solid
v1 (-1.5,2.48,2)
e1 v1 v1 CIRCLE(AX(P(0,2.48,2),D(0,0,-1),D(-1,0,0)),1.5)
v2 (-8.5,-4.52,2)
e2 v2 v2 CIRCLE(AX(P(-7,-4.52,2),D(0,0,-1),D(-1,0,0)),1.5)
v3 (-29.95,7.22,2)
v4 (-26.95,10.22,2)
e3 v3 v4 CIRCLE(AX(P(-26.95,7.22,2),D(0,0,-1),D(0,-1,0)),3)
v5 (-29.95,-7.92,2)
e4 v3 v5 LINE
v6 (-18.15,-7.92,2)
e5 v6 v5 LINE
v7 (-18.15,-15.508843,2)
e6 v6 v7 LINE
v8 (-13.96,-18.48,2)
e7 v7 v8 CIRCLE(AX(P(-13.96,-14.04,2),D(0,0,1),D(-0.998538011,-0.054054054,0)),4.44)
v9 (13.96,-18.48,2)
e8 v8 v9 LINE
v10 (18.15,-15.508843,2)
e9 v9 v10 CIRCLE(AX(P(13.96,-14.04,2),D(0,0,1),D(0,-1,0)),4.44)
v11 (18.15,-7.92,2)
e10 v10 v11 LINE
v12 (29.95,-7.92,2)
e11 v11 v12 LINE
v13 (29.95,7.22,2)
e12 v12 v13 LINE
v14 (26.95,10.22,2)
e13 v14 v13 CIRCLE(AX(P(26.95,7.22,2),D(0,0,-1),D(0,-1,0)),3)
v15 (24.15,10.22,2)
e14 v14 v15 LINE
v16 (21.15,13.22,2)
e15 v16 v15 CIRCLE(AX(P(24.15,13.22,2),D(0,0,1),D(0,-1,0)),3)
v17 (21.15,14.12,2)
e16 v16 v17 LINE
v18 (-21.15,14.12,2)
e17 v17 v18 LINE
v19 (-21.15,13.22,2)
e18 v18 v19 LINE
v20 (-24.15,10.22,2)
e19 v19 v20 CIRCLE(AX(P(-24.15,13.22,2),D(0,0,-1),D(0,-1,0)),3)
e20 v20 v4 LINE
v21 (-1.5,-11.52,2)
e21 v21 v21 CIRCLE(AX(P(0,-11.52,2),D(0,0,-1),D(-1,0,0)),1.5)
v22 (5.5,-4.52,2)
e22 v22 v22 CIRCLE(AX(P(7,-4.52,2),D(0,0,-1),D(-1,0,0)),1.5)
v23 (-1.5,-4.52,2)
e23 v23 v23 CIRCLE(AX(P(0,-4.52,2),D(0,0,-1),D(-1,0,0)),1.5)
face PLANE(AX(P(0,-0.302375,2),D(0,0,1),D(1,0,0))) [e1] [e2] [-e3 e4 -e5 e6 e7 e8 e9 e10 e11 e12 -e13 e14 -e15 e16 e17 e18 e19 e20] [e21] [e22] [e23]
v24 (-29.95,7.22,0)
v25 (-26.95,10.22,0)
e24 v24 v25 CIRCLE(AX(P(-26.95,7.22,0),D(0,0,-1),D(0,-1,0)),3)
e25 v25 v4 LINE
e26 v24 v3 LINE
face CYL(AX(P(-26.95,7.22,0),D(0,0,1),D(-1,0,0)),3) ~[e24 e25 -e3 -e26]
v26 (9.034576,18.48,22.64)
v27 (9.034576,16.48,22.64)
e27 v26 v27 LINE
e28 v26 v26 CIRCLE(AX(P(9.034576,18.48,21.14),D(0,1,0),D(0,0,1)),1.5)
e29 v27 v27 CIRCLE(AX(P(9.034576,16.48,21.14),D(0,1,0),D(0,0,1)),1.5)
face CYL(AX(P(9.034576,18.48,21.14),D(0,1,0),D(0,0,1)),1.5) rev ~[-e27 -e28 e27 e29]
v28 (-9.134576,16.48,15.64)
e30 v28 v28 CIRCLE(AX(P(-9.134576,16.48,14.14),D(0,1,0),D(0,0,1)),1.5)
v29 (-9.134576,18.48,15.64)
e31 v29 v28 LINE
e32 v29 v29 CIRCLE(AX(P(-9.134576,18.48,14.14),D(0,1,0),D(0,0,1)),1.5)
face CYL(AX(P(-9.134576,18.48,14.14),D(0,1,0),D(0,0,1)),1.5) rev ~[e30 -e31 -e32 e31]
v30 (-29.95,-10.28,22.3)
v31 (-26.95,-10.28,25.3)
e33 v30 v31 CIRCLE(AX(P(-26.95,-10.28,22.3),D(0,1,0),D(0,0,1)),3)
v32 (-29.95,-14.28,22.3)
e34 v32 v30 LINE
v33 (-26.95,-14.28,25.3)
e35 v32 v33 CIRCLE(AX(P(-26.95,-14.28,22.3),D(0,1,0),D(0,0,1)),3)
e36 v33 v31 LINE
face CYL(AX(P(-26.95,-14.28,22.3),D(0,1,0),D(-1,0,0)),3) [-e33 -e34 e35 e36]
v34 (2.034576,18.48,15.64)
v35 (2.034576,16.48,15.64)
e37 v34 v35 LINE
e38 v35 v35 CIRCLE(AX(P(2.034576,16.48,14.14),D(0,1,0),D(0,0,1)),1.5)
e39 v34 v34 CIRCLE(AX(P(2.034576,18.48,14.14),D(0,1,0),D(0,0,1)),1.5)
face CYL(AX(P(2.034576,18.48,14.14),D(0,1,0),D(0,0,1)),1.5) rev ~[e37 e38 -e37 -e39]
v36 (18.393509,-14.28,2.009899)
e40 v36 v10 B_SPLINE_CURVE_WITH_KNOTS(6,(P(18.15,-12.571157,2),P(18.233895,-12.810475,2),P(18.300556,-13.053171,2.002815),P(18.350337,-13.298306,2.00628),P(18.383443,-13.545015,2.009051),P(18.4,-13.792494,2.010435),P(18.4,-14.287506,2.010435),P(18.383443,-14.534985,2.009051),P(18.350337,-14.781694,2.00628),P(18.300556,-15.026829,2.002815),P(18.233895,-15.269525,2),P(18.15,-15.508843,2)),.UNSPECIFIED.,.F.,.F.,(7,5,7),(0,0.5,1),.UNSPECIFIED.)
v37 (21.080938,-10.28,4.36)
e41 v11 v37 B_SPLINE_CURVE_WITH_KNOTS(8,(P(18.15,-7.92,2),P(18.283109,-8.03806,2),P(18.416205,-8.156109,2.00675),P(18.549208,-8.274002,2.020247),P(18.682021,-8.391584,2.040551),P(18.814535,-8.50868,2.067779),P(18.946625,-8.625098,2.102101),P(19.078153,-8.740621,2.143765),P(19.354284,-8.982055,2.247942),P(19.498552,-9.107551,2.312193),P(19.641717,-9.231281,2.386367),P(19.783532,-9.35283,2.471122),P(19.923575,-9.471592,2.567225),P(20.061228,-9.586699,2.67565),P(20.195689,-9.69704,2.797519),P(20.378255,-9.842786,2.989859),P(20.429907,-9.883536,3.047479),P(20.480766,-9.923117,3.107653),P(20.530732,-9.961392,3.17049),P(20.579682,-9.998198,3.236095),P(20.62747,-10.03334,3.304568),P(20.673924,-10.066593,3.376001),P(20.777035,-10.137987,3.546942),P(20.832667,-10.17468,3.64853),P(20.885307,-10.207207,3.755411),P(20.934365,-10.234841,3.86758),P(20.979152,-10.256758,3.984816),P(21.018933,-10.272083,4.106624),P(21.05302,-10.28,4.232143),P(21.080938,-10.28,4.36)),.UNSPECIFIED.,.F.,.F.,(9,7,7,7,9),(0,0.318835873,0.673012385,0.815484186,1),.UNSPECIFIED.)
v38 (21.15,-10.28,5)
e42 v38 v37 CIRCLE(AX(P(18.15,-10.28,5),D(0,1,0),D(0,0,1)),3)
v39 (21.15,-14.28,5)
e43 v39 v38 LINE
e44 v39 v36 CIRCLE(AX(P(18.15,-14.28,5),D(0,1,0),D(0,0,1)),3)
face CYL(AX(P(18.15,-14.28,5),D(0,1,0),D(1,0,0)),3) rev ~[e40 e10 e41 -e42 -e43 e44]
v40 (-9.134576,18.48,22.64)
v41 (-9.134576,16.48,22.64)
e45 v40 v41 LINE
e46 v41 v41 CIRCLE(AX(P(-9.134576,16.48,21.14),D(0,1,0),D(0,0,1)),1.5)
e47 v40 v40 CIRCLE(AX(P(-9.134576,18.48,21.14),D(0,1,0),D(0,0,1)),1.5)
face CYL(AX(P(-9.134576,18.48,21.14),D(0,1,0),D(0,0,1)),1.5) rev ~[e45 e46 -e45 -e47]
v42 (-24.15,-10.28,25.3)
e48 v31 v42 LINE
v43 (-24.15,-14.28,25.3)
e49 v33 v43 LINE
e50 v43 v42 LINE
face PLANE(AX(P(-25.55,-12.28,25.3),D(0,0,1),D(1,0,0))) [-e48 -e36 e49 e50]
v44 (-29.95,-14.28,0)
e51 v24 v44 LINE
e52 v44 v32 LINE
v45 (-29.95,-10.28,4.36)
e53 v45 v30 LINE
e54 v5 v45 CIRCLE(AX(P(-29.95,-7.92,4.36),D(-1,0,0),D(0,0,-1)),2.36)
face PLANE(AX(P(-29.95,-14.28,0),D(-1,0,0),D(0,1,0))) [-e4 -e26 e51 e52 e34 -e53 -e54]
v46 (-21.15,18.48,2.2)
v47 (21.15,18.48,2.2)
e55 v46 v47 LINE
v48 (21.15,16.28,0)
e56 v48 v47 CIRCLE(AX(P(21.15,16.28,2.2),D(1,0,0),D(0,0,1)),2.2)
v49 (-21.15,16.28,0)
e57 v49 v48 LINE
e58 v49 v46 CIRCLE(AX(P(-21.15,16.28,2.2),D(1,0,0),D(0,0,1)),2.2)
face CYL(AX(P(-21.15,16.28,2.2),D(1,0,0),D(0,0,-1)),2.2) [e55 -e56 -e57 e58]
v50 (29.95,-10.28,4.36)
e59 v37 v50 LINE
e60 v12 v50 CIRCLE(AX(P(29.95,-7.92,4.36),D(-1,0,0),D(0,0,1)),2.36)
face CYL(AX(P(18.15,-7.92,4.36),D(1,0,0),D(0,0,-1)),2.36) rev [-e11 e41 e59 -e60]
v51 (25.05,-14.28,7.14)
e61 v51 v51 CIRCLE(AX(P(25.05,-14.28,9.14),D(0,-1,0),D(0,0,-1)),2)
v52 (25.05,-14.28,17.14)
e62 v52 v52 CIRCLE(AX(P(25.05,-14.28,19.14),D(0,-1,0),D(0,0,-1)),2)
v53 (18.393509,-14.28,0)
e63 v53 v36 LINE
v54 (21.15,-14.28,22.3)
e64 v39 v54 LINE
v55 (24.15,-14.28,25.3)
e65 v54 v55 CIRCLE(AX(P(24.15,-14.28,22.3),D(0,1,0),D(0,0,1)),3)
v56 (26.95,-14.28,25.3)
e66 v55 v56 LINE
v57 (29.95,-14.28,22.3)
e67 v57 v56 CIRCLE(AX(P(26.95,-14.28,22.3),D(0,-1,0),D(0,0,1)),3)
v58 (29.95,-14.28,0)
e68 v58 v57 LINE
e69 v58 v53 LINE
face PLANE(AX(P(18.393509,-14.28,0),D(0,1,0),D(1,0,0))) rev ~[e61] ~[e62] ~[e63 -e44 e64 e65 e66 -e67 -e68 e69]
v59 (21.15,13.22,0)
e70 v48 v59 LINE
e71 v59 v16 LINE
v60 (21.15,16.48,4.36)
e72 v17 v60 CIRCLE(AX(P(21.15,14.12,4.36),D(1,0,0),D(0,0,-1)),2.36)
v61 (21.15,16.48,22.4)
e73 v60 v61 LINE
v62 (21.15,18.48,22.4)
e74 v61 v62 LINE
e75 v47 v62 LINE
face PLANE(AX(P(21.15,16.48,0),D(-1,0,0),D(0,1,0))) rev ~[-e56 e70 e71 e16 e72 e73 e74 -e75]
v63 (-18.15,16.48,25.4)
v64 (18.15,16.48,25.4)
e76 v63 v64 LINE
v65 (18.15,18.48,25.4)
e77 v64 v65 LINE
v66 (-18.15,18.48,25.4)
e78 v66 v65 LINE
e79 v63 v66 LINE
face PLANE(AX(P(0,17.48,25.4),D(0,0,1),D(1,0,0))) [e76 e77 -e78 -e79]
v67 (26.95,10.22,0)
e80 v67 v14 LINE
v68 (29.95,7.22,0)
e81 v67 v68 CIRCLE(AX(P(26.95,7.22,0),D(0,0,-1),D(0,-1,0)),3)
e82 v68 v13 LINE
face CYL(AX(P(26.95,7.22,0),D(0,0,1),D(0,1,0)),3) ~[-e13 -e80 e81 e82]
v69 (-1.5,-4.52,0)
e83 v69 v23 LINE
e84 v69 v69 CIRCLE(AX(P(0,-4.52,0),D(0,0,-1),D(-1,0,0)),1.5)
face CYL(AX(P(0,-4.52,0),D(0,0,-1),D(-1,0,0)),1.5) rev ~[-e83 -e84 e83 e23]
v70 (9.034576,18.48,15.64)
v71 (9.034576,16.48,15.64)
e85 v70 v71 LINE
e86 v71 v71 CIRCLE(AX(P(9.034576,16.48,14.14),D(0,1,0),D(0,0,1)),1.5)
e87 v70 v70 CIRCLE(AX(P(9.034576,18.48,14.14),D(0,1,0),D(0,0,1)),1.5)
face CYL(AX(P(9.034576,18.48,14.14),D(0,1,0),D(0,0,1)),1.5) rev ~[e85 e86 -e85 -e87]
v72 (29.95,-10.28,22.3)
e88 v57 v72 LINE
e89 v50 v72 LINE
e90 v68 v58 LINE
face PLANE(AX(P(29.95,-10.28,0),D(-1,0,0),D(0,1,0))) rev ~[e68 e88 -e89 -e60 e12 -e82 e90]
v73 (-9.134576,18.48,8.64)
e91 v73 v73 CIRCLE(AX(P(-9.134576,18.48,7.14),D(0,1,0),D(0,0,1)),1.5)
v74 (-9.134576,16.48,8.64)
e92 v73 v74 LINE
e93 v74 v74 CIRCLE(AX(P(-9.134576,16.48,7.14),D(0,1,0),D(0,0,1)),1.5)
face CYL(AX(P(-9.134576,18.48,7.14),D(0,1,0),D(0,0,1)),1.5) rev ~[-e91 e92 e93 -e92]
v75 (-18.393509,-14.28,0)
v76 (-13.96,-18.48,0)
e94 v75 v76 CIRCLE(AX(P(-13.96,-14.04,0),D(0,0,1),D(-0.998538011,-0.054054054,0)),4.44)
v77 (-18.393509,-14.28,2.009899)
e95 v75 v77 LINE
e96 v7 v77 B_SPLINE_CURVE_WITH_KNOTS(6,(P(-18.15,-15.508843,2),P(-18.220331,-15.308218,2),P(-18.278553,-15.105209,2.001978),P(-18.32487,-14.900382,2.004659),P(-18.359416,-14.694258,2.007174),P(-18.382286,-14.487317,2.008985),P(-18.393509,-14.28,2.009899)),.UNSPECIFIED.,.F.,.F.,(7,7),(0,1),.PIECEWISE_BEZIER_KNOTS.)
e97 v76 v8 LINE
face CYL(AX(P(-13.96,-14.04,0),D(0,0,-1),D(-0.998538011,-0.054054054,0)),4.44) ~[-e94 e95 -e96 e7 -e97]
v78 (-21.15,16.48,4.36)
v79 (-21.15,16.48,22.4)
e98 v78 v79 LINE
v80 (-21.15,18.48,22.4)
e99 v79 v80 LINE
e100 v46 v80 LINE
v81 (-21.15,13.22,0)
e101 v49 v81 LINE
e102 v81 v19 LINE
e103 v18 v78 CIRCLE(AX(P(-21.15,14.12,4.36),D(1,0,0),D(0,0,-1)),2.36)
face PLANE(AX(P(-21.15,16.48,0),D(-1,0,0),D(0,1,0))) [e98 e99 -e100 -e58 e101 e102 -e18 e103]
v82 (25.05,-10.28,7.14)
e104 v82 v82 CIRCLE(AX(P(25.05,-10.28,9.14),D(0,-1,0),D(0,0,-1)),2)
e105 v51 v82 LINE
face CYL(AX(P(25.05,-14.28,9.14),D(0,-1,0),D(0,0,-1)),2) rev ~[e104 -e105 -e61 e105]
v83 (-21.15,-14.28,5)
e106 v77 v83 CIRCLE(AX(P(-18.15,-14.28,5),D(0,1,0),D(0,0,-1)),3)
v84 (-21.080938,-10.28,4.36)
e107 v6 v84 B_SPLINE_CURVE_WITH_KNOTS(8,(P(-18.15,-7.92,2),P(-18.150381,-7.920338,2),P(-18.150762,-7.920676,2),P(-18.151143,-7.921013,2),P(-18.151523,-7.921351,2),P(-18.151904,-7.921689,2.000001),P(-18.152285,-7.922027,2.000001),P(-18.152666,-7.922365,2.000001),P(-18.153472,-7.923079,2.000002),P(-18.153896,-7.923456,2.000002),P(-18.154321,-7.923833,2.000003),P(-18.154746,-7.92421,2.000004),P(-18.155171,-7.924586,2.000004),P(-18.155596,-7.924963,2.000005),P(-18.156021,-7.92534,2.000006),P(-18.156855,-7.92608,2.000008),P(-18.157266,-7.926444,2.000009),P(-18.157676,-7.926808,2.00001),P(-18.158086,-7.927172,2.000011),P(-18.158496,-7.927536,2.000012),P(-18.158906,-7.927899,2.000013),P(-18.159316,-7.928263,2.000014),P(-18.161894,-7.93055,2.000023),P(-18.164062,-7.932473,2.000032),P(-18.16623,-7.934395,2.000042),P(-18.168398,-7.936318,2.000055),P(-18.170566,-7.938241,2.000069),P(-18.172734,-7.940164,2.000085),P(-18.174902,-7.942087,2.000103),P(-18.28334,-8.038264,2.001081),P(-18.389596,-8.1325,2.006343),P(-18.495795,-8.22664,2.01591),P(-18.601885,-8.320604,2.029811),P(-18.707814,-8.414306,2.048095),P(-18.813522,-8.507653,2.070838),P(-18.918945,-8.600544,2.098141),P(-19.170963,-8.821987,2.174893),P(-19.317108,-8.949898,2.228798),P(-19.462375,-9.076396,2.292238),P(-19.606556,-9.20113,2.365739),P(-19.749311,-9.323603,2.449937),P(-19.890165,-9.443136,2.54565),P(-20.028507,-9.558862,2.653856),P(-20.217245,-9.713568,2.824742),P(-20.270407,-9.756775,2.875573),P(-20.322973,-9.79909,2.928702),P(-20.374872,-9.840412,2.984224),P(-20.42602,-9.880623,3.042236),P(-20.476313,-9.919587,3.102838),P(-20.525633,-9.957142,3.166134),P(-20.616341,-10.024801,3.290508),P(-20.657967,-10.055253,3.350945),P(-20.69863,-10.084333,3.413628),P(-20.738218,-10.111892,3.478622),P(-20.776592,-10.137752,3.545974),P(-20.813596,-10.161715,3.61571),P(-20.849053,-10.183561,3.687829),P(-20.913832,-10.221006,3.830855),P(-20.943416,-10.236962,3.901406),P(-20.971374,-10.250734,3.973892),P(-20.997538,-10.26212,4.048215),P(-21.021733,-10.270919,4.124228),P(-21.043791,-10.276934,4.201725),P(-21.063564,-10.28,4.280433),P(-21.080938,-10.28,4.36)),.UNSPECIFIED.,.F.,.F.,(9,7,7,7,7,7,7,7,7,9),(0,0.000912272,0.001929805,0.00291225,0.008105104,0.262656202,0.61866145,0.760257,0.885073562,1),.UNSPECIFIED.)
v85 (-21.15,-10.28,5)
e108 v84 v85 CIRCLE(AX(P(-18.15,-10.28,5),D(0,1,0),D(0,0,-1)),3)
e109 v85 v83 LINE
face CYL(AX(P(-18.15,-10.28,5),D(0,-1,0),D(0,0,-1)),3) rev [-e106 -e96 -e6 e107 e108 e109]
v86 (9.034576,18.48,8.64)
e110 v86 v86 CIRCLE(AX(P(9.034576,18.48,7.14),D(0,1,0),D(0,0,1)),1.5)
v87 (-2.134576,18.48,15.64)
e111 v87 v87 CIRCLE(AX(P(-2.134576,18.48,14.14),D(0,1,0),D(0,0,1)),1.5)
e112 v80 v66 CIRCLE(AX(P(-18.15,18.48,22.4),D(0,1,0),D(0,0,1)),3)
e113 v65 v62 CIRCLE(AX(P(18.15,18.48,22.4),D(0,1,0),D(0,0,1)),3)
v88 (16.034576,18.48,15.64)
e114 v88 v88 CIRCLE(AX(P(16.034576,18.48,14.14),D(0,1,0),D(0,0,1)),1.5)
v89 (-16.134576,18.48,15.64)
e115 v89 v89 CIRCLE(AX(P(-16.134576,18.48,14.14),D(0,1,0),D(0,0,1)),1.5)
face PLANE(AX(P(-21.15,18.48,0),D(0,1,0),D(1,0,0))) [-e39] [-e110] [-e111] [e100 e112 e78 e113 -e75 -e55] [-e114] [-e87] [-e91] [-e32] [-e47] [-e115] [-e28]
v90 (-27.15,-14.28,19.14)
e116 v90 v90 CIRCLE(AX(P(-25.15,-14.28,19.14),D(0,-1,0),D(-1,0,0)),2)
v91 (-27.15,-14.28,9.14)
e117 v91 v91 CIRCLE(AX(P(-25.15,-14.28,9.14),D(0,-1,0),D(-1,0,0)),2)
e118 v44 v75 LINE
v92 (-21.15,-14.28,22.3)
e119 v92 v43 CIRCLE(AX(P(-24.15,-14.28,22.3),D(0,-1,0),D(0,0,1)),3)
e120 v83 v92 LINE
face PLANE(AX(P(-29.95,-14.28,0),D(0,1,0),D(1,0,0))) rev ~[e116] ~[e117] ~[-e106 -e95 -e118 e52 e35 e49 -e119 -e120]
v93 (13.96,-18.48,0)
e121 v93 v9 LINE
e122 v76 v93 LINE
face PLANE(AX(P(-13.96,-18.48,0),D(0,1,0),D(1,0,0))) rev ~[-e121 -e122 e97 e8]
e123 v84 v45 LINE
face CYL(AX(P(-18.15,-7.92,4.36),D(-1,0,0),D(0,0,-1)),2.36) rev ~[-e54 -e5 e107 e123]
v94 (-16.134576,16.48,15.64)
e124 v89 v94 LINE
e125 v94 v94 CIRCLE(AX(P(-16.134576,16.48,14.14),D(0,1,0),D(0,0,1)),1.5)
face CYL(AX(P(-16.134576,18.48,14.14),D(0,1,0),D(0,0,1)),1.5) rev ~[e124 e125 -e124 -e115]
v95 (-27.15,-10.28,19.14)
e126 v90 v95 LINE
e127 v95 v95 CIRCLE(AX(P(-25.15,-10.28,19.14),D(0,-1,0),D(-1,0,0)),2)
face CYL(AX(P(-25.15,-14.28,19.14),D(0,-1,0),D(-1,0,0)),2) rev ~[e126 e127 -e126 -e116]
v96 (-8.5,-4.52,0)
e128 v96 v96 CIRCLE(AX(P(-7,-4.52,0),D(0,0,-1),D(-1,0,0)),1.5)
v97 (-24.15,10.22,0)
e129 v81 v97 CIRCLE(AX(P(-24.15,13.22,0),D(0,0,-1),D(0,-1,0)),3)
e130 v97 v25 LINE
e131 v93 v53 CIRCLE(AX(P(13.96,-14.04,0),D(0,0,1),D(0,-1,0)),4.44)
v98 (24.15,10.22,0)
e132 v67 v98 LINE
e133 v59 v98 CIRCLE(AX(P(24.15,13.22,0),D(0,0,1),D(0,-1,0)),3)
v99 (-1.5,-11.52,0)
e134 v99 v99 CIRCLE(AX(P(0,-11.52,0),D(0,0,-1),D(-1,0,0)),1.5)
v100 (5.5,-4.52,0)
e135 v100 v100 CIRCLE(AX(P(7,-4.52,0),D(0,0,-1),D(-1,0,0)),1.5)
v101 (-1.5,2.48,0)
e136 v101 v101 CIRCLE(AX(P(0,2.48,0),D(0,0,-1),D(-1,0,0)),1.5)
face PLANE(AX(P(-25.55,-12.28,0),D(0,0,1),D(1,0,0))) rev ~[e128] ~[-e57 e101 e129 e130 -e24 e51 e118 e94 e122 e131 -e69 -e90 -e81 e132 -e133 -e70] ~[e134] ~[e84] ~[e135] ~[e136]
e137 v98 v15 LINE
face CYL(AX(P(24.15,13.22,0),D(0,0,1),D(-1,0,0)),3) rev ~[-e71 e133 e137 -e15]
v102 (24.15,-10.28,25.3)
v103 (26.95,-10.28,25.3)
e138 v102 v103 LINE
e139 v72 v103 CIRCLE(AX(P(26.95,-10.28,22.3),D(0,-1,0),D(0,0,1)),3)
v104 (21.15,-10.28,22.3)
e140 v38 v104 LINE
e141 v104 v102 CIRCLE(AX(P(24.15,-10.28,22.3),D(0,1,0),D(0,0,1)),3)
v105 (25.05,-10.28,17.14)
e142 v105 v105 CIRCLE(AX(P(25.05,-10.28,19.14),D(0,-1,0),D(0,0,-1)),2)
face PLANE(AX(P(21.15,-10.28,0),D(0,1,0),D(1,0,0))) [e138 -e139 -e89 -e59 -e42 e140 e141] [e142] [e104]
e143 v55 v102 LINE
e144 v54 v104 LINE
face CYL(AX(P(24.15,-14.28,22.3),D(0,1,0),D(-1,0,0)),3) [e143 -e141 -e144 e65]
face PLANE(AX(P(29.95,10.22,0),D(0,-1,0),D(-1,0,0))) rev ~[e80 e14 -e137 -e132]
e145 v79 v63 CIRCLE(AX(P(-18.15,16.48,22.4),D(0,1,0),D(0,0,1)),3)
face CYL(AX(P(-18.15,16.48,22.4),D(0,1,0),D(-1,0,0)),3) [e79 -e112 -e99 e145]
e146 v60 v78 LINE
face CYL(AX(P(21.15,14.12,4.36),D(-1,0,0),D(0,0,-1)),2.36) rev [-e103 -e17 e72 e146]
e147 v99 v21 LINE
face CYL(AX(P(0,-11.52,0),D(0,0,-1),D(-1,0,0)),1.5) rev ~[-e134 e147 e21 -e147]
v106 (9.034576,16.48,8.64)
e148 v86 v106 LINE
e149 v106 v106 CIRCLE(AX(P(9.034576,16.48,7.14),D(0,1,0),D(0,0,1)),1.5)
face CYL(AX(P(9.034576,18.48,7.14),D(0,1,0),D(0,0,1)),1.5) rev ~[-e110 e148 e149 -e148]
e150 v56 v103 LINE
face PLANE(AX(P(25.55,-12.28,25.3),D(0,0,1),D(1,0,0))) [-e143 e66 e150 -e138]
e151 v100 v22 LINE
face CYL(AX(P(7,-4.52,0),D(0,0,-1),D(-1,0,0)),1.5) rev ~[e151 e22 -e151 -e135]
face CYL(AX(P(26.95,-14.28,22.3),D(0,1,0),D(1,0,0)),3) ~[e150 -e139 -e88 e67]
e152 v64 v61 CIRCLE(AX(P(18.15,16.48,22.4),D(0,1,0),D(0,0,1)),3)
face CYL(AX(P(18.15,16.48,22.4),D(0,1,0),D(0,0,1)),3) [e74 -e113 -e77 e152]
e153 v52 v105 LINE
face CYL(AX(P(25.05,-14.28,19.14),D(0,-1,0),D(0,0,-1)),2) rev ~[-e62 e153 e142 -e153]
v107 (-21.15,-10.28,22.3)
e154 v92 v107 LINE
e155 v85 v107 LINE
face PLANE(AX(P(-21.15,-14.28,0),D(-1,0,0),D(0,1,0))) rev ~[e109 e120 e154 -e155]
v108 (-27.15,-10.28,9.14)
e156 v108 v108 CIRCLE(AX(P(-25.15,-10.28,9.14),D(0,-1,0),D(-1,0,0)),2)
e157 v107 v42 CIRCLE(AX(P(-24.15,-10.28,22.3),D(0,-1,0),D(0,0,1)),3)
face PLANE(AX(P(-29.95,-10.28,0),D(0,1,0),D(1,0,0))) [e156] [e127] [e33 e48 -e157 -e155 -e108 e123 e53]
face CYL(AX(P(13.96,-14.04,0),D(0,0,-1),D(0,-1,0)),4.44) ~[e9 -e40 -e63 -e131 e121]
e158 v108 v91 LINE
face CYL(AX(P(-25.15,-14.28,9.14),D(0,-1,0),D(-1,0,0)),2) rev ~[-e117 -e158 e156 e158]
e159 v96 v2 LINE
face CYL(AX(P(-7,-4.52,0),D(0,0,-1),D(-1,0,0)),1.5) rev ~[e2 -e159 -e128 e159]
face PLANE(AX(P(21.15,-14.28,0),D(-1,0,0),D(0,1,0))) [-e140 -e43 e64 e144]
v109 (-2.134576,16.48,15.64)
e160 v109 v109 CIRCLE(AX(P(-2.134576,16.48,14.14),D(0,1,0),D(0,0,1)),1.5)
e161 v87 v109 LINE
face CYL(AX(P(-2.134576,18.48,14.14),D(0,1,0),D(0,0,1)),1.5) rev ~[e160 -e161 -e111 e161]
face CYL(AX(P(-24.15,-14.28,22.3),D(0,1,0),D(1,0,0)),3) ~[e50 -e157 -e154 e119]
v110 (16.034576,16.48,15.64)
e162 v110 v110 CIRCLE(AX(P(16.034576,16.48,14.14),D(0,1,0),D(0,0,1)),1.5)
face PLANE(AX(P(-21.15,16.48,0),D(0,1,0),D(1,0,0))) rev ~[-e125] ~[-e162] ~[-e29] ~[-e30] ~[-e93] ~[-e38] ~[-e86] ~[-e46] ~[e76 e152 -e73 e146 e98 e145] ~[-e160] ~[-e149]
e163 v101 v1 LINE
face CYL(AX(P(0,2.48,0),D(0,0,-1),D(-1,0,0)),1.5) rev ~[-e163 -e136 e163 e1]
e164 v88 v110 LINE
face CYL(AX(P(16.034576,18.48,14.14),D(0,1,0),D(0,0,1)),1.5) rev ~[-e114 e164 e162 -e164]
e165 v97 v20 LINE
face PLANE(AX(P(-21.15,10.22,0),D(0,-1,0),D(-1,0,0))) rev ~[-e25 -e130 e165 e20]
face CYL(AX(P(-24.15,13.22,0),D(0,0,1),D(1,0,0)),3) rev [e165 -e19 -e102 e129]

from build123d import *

# Parameters (mm, degrees)
BOSS_EXTRUDE1_DEPTH = 2
SKETCH1_3_W         = 42.3
SKETCH1_3_H         = 2
BOSS_EXTRUDE2_DEPTH = 25.4
SKETCH1_4_W         = 8.8
SKETCH1_4_H         = 4
BOSS_EXTRUDE3_DEPTH = 25.3
FILLET31_R          = 3
FILLET32_R          = 2.36
FILLET26_R          = 2.2
SKETCH2_R           = 2
CUT_EXTRUDE1_DEPTH  = 10
SKETCH3_R           = 1.5
CUT_EXTRUDE2_DEPTH  = 10
SKETCH4_R           = 1.5
CUT_EXTRUDE3_DEPTH  = 10


with BuildPart() as part:
    # Sketch1 → Boss-Extrude1 (new body)
    with BuildSketch(Plane.XY):
        with BuildLine():
            Line((21.15, 16.48), (-21.15, 16.48))
            Line((-21.15, 16.48), (-21.15, 10.22))
            Line((-21.15, 10.22), (-29.95, 10.22))
            Line((-29.95, 10.22), (-29.95, -10.28))
            Line((-29.95, -10.28), (-21.15, -10.28))
            Line((-21.15, -10.28), (-21.15, -14.28))
            Line((-21.15, -14.28), (-18.393508768, -14.28))
            ThreePointArc((-18.393508768, -14.28), (-17.013522556, -17.263290244), (-13.96, -18.48))
            Line((-13.96, -18.48), (13.96, -18.48))
            ThreePointArc((13.96, -18.48), (17.013522556, -17.263290244), (18.393508768, -14.28))
            Line((18.393508768, -14.28), (21.15, -14.28))
            Line((21.15, -14.28), (21.15, -10.28))
            Line((21.15, -10.28), (29.95, -10.28))
            Line((29.95, -10.28), (29.95, 10.22))
            Line((29.95, 10.22), (21.15, 10.22))
            Line((21.15, 10.22), (21.15, 16.48))
        make_face()
    extrude(amount=BOSS_EXTRUDE1_DEPTH)

    # Sketch1<3> → Boss-Extrude2 (add)
    with BuildSketch(Plane.XY):
        with Locations((0, 17.48)):
            Rectangle(SKETCH1_3_W, SKETCH1_3_H)
    extrude(amount=BOSS_EXTRUDE2_DEPTH)

    # Sketch1<4> → Boss-Extrude3 (add)
    with BuildSketch(Plane.XY):
        with Locations((-25.55, -12.28)):
            Rectangle(SKETCH1_4_W, SKETCH1_4_H)
        with Locations((25.55, -12.28)):
            Rectangle(SKETCH1_4_W, SKETCH1_4_H)
    extrude(amount=BOSS_EXTRUDE3_DEPTH)

    # Fillet31
    fillet31_edges = [part.edges().sort_by_distance(p)[0] for p in [
        (21.15, -12.28, 25.3),
        (29.95, -12.28, 25.3),
        (21.15, 17.48, 25.4),
        (-21.15, 17.48, 25.4),
        (-29.95, -12.28, 25.3),
        (-21.15, -12.28, 25.3),
        (-29.95, 10.22, 1),
        (-21.15, 10.22, 1),
        (21.15, 10.22, 1),
        (29.95, 10.22, 1),
        (21.15, -12.28, 2),
        (-21.15, -12.28, 2),
    ]]
    fillet(fillet31_edges, radius=FILLET31_R)

    # Fillet32
    fillet32_edges = [part.edges().sort_by_distance(p)[0] for p in [
        (24.05, -10.28, 2),
        (-24.05, -10.28, 2),
        (0, 16.48, 2),
    ]]
    fillet(fillet32_edges, radius=FILLET32_R)

    # Fillet26
    fillet26_edges = [part.edges().sort_by_distance(p)[0] for p in [
        (0, 18.48, 0),
    ]]
    fillet(fillet26_edges, radius=FILLET26_R)

    # Sketch2 → Cut-Extrude1 (cut, symmetric)
    with BuildSketch(Plane.XZ.offset(14.28)):
        with Locations((25.05, 19.14)):
            Circle(SKETCH2_R)
        with Locations((25.05, 9.14)):
            Circle(SKETCH2_R)
        with Locations((-25.15, 19.14)):
            Circle(SKETCH2_R)
        with Locations((-25.15, 9.14)):
            Circle(SKETCH2_R)
    extrude(amount=CUT_EXTRUDE1_DEPTH, both=True, mode=Mode.SUBTRACT)

    # Sketch3 → Cut-Extrude2 (cut)
    with BuildSketch(Plane(origin=(0, 18.48, 0), x_dir=(1, 0, 0), z_dir=(0, 1, 0))):
        with Locations((-9.134575671, -14.14)):
            Circle(SKETCH3_R)
        with Locations((-9.134575671, -7.14)):
            Circle(SKETCH3_R)
        with Locations((-2.134575671, -14.14)):
            Circle(SKETCH3_R)
        with Locations((-9.134575671, -21.14)):
            Circle(SKETCH3_R)
        with Locations((-16.134575671, -14.14)):
            Circle(SKETCH3_R)
        with Locations((9.034575671, -14.14)):
            Circle(SKETCH3_R)
        with Locations((9.034575671, -7.14)):
            Circle(SKETCH3_R)
        with Locations((16.034575671, -14.14)):
            Circle(SKETCH3_R)
        with Locations((9.034575671, -21.14)):
            Circle(SKETCH3_R)
        with Locations((2.034575671, -14.14)):
            Circle(SKETCH3_R)
    extrude(amount=-CUT_EXTRUDE2_DEPTH, mode=Mode.SUBTRACT)

    # Sketch4 → Cut-Extrude3 (cut)
    with BuildSketch(Plane(origin=(0, 0, 0), x_dir=(-1, 0, 0), z_dir=(0, 0, -1))):
        with Locations((0, 2.48)):
            Circle(SKETCH4_R)
        with Locations((0, -4.52)):
            Circle(SKETCH4_R)
        with Locations((0, -11.52)):
            Circle(SKETCH4_R)
        with Locations((7, -4.52)):
            Circle(SKETCH4_R)
        with Locations((-7, -4.52)):
            Circle(SKETCH4_R)
    extrude(amount=-CUT_EXTRUDE3_DEPTH, mode=Mode.SUBTRACT)


solid = part.part
